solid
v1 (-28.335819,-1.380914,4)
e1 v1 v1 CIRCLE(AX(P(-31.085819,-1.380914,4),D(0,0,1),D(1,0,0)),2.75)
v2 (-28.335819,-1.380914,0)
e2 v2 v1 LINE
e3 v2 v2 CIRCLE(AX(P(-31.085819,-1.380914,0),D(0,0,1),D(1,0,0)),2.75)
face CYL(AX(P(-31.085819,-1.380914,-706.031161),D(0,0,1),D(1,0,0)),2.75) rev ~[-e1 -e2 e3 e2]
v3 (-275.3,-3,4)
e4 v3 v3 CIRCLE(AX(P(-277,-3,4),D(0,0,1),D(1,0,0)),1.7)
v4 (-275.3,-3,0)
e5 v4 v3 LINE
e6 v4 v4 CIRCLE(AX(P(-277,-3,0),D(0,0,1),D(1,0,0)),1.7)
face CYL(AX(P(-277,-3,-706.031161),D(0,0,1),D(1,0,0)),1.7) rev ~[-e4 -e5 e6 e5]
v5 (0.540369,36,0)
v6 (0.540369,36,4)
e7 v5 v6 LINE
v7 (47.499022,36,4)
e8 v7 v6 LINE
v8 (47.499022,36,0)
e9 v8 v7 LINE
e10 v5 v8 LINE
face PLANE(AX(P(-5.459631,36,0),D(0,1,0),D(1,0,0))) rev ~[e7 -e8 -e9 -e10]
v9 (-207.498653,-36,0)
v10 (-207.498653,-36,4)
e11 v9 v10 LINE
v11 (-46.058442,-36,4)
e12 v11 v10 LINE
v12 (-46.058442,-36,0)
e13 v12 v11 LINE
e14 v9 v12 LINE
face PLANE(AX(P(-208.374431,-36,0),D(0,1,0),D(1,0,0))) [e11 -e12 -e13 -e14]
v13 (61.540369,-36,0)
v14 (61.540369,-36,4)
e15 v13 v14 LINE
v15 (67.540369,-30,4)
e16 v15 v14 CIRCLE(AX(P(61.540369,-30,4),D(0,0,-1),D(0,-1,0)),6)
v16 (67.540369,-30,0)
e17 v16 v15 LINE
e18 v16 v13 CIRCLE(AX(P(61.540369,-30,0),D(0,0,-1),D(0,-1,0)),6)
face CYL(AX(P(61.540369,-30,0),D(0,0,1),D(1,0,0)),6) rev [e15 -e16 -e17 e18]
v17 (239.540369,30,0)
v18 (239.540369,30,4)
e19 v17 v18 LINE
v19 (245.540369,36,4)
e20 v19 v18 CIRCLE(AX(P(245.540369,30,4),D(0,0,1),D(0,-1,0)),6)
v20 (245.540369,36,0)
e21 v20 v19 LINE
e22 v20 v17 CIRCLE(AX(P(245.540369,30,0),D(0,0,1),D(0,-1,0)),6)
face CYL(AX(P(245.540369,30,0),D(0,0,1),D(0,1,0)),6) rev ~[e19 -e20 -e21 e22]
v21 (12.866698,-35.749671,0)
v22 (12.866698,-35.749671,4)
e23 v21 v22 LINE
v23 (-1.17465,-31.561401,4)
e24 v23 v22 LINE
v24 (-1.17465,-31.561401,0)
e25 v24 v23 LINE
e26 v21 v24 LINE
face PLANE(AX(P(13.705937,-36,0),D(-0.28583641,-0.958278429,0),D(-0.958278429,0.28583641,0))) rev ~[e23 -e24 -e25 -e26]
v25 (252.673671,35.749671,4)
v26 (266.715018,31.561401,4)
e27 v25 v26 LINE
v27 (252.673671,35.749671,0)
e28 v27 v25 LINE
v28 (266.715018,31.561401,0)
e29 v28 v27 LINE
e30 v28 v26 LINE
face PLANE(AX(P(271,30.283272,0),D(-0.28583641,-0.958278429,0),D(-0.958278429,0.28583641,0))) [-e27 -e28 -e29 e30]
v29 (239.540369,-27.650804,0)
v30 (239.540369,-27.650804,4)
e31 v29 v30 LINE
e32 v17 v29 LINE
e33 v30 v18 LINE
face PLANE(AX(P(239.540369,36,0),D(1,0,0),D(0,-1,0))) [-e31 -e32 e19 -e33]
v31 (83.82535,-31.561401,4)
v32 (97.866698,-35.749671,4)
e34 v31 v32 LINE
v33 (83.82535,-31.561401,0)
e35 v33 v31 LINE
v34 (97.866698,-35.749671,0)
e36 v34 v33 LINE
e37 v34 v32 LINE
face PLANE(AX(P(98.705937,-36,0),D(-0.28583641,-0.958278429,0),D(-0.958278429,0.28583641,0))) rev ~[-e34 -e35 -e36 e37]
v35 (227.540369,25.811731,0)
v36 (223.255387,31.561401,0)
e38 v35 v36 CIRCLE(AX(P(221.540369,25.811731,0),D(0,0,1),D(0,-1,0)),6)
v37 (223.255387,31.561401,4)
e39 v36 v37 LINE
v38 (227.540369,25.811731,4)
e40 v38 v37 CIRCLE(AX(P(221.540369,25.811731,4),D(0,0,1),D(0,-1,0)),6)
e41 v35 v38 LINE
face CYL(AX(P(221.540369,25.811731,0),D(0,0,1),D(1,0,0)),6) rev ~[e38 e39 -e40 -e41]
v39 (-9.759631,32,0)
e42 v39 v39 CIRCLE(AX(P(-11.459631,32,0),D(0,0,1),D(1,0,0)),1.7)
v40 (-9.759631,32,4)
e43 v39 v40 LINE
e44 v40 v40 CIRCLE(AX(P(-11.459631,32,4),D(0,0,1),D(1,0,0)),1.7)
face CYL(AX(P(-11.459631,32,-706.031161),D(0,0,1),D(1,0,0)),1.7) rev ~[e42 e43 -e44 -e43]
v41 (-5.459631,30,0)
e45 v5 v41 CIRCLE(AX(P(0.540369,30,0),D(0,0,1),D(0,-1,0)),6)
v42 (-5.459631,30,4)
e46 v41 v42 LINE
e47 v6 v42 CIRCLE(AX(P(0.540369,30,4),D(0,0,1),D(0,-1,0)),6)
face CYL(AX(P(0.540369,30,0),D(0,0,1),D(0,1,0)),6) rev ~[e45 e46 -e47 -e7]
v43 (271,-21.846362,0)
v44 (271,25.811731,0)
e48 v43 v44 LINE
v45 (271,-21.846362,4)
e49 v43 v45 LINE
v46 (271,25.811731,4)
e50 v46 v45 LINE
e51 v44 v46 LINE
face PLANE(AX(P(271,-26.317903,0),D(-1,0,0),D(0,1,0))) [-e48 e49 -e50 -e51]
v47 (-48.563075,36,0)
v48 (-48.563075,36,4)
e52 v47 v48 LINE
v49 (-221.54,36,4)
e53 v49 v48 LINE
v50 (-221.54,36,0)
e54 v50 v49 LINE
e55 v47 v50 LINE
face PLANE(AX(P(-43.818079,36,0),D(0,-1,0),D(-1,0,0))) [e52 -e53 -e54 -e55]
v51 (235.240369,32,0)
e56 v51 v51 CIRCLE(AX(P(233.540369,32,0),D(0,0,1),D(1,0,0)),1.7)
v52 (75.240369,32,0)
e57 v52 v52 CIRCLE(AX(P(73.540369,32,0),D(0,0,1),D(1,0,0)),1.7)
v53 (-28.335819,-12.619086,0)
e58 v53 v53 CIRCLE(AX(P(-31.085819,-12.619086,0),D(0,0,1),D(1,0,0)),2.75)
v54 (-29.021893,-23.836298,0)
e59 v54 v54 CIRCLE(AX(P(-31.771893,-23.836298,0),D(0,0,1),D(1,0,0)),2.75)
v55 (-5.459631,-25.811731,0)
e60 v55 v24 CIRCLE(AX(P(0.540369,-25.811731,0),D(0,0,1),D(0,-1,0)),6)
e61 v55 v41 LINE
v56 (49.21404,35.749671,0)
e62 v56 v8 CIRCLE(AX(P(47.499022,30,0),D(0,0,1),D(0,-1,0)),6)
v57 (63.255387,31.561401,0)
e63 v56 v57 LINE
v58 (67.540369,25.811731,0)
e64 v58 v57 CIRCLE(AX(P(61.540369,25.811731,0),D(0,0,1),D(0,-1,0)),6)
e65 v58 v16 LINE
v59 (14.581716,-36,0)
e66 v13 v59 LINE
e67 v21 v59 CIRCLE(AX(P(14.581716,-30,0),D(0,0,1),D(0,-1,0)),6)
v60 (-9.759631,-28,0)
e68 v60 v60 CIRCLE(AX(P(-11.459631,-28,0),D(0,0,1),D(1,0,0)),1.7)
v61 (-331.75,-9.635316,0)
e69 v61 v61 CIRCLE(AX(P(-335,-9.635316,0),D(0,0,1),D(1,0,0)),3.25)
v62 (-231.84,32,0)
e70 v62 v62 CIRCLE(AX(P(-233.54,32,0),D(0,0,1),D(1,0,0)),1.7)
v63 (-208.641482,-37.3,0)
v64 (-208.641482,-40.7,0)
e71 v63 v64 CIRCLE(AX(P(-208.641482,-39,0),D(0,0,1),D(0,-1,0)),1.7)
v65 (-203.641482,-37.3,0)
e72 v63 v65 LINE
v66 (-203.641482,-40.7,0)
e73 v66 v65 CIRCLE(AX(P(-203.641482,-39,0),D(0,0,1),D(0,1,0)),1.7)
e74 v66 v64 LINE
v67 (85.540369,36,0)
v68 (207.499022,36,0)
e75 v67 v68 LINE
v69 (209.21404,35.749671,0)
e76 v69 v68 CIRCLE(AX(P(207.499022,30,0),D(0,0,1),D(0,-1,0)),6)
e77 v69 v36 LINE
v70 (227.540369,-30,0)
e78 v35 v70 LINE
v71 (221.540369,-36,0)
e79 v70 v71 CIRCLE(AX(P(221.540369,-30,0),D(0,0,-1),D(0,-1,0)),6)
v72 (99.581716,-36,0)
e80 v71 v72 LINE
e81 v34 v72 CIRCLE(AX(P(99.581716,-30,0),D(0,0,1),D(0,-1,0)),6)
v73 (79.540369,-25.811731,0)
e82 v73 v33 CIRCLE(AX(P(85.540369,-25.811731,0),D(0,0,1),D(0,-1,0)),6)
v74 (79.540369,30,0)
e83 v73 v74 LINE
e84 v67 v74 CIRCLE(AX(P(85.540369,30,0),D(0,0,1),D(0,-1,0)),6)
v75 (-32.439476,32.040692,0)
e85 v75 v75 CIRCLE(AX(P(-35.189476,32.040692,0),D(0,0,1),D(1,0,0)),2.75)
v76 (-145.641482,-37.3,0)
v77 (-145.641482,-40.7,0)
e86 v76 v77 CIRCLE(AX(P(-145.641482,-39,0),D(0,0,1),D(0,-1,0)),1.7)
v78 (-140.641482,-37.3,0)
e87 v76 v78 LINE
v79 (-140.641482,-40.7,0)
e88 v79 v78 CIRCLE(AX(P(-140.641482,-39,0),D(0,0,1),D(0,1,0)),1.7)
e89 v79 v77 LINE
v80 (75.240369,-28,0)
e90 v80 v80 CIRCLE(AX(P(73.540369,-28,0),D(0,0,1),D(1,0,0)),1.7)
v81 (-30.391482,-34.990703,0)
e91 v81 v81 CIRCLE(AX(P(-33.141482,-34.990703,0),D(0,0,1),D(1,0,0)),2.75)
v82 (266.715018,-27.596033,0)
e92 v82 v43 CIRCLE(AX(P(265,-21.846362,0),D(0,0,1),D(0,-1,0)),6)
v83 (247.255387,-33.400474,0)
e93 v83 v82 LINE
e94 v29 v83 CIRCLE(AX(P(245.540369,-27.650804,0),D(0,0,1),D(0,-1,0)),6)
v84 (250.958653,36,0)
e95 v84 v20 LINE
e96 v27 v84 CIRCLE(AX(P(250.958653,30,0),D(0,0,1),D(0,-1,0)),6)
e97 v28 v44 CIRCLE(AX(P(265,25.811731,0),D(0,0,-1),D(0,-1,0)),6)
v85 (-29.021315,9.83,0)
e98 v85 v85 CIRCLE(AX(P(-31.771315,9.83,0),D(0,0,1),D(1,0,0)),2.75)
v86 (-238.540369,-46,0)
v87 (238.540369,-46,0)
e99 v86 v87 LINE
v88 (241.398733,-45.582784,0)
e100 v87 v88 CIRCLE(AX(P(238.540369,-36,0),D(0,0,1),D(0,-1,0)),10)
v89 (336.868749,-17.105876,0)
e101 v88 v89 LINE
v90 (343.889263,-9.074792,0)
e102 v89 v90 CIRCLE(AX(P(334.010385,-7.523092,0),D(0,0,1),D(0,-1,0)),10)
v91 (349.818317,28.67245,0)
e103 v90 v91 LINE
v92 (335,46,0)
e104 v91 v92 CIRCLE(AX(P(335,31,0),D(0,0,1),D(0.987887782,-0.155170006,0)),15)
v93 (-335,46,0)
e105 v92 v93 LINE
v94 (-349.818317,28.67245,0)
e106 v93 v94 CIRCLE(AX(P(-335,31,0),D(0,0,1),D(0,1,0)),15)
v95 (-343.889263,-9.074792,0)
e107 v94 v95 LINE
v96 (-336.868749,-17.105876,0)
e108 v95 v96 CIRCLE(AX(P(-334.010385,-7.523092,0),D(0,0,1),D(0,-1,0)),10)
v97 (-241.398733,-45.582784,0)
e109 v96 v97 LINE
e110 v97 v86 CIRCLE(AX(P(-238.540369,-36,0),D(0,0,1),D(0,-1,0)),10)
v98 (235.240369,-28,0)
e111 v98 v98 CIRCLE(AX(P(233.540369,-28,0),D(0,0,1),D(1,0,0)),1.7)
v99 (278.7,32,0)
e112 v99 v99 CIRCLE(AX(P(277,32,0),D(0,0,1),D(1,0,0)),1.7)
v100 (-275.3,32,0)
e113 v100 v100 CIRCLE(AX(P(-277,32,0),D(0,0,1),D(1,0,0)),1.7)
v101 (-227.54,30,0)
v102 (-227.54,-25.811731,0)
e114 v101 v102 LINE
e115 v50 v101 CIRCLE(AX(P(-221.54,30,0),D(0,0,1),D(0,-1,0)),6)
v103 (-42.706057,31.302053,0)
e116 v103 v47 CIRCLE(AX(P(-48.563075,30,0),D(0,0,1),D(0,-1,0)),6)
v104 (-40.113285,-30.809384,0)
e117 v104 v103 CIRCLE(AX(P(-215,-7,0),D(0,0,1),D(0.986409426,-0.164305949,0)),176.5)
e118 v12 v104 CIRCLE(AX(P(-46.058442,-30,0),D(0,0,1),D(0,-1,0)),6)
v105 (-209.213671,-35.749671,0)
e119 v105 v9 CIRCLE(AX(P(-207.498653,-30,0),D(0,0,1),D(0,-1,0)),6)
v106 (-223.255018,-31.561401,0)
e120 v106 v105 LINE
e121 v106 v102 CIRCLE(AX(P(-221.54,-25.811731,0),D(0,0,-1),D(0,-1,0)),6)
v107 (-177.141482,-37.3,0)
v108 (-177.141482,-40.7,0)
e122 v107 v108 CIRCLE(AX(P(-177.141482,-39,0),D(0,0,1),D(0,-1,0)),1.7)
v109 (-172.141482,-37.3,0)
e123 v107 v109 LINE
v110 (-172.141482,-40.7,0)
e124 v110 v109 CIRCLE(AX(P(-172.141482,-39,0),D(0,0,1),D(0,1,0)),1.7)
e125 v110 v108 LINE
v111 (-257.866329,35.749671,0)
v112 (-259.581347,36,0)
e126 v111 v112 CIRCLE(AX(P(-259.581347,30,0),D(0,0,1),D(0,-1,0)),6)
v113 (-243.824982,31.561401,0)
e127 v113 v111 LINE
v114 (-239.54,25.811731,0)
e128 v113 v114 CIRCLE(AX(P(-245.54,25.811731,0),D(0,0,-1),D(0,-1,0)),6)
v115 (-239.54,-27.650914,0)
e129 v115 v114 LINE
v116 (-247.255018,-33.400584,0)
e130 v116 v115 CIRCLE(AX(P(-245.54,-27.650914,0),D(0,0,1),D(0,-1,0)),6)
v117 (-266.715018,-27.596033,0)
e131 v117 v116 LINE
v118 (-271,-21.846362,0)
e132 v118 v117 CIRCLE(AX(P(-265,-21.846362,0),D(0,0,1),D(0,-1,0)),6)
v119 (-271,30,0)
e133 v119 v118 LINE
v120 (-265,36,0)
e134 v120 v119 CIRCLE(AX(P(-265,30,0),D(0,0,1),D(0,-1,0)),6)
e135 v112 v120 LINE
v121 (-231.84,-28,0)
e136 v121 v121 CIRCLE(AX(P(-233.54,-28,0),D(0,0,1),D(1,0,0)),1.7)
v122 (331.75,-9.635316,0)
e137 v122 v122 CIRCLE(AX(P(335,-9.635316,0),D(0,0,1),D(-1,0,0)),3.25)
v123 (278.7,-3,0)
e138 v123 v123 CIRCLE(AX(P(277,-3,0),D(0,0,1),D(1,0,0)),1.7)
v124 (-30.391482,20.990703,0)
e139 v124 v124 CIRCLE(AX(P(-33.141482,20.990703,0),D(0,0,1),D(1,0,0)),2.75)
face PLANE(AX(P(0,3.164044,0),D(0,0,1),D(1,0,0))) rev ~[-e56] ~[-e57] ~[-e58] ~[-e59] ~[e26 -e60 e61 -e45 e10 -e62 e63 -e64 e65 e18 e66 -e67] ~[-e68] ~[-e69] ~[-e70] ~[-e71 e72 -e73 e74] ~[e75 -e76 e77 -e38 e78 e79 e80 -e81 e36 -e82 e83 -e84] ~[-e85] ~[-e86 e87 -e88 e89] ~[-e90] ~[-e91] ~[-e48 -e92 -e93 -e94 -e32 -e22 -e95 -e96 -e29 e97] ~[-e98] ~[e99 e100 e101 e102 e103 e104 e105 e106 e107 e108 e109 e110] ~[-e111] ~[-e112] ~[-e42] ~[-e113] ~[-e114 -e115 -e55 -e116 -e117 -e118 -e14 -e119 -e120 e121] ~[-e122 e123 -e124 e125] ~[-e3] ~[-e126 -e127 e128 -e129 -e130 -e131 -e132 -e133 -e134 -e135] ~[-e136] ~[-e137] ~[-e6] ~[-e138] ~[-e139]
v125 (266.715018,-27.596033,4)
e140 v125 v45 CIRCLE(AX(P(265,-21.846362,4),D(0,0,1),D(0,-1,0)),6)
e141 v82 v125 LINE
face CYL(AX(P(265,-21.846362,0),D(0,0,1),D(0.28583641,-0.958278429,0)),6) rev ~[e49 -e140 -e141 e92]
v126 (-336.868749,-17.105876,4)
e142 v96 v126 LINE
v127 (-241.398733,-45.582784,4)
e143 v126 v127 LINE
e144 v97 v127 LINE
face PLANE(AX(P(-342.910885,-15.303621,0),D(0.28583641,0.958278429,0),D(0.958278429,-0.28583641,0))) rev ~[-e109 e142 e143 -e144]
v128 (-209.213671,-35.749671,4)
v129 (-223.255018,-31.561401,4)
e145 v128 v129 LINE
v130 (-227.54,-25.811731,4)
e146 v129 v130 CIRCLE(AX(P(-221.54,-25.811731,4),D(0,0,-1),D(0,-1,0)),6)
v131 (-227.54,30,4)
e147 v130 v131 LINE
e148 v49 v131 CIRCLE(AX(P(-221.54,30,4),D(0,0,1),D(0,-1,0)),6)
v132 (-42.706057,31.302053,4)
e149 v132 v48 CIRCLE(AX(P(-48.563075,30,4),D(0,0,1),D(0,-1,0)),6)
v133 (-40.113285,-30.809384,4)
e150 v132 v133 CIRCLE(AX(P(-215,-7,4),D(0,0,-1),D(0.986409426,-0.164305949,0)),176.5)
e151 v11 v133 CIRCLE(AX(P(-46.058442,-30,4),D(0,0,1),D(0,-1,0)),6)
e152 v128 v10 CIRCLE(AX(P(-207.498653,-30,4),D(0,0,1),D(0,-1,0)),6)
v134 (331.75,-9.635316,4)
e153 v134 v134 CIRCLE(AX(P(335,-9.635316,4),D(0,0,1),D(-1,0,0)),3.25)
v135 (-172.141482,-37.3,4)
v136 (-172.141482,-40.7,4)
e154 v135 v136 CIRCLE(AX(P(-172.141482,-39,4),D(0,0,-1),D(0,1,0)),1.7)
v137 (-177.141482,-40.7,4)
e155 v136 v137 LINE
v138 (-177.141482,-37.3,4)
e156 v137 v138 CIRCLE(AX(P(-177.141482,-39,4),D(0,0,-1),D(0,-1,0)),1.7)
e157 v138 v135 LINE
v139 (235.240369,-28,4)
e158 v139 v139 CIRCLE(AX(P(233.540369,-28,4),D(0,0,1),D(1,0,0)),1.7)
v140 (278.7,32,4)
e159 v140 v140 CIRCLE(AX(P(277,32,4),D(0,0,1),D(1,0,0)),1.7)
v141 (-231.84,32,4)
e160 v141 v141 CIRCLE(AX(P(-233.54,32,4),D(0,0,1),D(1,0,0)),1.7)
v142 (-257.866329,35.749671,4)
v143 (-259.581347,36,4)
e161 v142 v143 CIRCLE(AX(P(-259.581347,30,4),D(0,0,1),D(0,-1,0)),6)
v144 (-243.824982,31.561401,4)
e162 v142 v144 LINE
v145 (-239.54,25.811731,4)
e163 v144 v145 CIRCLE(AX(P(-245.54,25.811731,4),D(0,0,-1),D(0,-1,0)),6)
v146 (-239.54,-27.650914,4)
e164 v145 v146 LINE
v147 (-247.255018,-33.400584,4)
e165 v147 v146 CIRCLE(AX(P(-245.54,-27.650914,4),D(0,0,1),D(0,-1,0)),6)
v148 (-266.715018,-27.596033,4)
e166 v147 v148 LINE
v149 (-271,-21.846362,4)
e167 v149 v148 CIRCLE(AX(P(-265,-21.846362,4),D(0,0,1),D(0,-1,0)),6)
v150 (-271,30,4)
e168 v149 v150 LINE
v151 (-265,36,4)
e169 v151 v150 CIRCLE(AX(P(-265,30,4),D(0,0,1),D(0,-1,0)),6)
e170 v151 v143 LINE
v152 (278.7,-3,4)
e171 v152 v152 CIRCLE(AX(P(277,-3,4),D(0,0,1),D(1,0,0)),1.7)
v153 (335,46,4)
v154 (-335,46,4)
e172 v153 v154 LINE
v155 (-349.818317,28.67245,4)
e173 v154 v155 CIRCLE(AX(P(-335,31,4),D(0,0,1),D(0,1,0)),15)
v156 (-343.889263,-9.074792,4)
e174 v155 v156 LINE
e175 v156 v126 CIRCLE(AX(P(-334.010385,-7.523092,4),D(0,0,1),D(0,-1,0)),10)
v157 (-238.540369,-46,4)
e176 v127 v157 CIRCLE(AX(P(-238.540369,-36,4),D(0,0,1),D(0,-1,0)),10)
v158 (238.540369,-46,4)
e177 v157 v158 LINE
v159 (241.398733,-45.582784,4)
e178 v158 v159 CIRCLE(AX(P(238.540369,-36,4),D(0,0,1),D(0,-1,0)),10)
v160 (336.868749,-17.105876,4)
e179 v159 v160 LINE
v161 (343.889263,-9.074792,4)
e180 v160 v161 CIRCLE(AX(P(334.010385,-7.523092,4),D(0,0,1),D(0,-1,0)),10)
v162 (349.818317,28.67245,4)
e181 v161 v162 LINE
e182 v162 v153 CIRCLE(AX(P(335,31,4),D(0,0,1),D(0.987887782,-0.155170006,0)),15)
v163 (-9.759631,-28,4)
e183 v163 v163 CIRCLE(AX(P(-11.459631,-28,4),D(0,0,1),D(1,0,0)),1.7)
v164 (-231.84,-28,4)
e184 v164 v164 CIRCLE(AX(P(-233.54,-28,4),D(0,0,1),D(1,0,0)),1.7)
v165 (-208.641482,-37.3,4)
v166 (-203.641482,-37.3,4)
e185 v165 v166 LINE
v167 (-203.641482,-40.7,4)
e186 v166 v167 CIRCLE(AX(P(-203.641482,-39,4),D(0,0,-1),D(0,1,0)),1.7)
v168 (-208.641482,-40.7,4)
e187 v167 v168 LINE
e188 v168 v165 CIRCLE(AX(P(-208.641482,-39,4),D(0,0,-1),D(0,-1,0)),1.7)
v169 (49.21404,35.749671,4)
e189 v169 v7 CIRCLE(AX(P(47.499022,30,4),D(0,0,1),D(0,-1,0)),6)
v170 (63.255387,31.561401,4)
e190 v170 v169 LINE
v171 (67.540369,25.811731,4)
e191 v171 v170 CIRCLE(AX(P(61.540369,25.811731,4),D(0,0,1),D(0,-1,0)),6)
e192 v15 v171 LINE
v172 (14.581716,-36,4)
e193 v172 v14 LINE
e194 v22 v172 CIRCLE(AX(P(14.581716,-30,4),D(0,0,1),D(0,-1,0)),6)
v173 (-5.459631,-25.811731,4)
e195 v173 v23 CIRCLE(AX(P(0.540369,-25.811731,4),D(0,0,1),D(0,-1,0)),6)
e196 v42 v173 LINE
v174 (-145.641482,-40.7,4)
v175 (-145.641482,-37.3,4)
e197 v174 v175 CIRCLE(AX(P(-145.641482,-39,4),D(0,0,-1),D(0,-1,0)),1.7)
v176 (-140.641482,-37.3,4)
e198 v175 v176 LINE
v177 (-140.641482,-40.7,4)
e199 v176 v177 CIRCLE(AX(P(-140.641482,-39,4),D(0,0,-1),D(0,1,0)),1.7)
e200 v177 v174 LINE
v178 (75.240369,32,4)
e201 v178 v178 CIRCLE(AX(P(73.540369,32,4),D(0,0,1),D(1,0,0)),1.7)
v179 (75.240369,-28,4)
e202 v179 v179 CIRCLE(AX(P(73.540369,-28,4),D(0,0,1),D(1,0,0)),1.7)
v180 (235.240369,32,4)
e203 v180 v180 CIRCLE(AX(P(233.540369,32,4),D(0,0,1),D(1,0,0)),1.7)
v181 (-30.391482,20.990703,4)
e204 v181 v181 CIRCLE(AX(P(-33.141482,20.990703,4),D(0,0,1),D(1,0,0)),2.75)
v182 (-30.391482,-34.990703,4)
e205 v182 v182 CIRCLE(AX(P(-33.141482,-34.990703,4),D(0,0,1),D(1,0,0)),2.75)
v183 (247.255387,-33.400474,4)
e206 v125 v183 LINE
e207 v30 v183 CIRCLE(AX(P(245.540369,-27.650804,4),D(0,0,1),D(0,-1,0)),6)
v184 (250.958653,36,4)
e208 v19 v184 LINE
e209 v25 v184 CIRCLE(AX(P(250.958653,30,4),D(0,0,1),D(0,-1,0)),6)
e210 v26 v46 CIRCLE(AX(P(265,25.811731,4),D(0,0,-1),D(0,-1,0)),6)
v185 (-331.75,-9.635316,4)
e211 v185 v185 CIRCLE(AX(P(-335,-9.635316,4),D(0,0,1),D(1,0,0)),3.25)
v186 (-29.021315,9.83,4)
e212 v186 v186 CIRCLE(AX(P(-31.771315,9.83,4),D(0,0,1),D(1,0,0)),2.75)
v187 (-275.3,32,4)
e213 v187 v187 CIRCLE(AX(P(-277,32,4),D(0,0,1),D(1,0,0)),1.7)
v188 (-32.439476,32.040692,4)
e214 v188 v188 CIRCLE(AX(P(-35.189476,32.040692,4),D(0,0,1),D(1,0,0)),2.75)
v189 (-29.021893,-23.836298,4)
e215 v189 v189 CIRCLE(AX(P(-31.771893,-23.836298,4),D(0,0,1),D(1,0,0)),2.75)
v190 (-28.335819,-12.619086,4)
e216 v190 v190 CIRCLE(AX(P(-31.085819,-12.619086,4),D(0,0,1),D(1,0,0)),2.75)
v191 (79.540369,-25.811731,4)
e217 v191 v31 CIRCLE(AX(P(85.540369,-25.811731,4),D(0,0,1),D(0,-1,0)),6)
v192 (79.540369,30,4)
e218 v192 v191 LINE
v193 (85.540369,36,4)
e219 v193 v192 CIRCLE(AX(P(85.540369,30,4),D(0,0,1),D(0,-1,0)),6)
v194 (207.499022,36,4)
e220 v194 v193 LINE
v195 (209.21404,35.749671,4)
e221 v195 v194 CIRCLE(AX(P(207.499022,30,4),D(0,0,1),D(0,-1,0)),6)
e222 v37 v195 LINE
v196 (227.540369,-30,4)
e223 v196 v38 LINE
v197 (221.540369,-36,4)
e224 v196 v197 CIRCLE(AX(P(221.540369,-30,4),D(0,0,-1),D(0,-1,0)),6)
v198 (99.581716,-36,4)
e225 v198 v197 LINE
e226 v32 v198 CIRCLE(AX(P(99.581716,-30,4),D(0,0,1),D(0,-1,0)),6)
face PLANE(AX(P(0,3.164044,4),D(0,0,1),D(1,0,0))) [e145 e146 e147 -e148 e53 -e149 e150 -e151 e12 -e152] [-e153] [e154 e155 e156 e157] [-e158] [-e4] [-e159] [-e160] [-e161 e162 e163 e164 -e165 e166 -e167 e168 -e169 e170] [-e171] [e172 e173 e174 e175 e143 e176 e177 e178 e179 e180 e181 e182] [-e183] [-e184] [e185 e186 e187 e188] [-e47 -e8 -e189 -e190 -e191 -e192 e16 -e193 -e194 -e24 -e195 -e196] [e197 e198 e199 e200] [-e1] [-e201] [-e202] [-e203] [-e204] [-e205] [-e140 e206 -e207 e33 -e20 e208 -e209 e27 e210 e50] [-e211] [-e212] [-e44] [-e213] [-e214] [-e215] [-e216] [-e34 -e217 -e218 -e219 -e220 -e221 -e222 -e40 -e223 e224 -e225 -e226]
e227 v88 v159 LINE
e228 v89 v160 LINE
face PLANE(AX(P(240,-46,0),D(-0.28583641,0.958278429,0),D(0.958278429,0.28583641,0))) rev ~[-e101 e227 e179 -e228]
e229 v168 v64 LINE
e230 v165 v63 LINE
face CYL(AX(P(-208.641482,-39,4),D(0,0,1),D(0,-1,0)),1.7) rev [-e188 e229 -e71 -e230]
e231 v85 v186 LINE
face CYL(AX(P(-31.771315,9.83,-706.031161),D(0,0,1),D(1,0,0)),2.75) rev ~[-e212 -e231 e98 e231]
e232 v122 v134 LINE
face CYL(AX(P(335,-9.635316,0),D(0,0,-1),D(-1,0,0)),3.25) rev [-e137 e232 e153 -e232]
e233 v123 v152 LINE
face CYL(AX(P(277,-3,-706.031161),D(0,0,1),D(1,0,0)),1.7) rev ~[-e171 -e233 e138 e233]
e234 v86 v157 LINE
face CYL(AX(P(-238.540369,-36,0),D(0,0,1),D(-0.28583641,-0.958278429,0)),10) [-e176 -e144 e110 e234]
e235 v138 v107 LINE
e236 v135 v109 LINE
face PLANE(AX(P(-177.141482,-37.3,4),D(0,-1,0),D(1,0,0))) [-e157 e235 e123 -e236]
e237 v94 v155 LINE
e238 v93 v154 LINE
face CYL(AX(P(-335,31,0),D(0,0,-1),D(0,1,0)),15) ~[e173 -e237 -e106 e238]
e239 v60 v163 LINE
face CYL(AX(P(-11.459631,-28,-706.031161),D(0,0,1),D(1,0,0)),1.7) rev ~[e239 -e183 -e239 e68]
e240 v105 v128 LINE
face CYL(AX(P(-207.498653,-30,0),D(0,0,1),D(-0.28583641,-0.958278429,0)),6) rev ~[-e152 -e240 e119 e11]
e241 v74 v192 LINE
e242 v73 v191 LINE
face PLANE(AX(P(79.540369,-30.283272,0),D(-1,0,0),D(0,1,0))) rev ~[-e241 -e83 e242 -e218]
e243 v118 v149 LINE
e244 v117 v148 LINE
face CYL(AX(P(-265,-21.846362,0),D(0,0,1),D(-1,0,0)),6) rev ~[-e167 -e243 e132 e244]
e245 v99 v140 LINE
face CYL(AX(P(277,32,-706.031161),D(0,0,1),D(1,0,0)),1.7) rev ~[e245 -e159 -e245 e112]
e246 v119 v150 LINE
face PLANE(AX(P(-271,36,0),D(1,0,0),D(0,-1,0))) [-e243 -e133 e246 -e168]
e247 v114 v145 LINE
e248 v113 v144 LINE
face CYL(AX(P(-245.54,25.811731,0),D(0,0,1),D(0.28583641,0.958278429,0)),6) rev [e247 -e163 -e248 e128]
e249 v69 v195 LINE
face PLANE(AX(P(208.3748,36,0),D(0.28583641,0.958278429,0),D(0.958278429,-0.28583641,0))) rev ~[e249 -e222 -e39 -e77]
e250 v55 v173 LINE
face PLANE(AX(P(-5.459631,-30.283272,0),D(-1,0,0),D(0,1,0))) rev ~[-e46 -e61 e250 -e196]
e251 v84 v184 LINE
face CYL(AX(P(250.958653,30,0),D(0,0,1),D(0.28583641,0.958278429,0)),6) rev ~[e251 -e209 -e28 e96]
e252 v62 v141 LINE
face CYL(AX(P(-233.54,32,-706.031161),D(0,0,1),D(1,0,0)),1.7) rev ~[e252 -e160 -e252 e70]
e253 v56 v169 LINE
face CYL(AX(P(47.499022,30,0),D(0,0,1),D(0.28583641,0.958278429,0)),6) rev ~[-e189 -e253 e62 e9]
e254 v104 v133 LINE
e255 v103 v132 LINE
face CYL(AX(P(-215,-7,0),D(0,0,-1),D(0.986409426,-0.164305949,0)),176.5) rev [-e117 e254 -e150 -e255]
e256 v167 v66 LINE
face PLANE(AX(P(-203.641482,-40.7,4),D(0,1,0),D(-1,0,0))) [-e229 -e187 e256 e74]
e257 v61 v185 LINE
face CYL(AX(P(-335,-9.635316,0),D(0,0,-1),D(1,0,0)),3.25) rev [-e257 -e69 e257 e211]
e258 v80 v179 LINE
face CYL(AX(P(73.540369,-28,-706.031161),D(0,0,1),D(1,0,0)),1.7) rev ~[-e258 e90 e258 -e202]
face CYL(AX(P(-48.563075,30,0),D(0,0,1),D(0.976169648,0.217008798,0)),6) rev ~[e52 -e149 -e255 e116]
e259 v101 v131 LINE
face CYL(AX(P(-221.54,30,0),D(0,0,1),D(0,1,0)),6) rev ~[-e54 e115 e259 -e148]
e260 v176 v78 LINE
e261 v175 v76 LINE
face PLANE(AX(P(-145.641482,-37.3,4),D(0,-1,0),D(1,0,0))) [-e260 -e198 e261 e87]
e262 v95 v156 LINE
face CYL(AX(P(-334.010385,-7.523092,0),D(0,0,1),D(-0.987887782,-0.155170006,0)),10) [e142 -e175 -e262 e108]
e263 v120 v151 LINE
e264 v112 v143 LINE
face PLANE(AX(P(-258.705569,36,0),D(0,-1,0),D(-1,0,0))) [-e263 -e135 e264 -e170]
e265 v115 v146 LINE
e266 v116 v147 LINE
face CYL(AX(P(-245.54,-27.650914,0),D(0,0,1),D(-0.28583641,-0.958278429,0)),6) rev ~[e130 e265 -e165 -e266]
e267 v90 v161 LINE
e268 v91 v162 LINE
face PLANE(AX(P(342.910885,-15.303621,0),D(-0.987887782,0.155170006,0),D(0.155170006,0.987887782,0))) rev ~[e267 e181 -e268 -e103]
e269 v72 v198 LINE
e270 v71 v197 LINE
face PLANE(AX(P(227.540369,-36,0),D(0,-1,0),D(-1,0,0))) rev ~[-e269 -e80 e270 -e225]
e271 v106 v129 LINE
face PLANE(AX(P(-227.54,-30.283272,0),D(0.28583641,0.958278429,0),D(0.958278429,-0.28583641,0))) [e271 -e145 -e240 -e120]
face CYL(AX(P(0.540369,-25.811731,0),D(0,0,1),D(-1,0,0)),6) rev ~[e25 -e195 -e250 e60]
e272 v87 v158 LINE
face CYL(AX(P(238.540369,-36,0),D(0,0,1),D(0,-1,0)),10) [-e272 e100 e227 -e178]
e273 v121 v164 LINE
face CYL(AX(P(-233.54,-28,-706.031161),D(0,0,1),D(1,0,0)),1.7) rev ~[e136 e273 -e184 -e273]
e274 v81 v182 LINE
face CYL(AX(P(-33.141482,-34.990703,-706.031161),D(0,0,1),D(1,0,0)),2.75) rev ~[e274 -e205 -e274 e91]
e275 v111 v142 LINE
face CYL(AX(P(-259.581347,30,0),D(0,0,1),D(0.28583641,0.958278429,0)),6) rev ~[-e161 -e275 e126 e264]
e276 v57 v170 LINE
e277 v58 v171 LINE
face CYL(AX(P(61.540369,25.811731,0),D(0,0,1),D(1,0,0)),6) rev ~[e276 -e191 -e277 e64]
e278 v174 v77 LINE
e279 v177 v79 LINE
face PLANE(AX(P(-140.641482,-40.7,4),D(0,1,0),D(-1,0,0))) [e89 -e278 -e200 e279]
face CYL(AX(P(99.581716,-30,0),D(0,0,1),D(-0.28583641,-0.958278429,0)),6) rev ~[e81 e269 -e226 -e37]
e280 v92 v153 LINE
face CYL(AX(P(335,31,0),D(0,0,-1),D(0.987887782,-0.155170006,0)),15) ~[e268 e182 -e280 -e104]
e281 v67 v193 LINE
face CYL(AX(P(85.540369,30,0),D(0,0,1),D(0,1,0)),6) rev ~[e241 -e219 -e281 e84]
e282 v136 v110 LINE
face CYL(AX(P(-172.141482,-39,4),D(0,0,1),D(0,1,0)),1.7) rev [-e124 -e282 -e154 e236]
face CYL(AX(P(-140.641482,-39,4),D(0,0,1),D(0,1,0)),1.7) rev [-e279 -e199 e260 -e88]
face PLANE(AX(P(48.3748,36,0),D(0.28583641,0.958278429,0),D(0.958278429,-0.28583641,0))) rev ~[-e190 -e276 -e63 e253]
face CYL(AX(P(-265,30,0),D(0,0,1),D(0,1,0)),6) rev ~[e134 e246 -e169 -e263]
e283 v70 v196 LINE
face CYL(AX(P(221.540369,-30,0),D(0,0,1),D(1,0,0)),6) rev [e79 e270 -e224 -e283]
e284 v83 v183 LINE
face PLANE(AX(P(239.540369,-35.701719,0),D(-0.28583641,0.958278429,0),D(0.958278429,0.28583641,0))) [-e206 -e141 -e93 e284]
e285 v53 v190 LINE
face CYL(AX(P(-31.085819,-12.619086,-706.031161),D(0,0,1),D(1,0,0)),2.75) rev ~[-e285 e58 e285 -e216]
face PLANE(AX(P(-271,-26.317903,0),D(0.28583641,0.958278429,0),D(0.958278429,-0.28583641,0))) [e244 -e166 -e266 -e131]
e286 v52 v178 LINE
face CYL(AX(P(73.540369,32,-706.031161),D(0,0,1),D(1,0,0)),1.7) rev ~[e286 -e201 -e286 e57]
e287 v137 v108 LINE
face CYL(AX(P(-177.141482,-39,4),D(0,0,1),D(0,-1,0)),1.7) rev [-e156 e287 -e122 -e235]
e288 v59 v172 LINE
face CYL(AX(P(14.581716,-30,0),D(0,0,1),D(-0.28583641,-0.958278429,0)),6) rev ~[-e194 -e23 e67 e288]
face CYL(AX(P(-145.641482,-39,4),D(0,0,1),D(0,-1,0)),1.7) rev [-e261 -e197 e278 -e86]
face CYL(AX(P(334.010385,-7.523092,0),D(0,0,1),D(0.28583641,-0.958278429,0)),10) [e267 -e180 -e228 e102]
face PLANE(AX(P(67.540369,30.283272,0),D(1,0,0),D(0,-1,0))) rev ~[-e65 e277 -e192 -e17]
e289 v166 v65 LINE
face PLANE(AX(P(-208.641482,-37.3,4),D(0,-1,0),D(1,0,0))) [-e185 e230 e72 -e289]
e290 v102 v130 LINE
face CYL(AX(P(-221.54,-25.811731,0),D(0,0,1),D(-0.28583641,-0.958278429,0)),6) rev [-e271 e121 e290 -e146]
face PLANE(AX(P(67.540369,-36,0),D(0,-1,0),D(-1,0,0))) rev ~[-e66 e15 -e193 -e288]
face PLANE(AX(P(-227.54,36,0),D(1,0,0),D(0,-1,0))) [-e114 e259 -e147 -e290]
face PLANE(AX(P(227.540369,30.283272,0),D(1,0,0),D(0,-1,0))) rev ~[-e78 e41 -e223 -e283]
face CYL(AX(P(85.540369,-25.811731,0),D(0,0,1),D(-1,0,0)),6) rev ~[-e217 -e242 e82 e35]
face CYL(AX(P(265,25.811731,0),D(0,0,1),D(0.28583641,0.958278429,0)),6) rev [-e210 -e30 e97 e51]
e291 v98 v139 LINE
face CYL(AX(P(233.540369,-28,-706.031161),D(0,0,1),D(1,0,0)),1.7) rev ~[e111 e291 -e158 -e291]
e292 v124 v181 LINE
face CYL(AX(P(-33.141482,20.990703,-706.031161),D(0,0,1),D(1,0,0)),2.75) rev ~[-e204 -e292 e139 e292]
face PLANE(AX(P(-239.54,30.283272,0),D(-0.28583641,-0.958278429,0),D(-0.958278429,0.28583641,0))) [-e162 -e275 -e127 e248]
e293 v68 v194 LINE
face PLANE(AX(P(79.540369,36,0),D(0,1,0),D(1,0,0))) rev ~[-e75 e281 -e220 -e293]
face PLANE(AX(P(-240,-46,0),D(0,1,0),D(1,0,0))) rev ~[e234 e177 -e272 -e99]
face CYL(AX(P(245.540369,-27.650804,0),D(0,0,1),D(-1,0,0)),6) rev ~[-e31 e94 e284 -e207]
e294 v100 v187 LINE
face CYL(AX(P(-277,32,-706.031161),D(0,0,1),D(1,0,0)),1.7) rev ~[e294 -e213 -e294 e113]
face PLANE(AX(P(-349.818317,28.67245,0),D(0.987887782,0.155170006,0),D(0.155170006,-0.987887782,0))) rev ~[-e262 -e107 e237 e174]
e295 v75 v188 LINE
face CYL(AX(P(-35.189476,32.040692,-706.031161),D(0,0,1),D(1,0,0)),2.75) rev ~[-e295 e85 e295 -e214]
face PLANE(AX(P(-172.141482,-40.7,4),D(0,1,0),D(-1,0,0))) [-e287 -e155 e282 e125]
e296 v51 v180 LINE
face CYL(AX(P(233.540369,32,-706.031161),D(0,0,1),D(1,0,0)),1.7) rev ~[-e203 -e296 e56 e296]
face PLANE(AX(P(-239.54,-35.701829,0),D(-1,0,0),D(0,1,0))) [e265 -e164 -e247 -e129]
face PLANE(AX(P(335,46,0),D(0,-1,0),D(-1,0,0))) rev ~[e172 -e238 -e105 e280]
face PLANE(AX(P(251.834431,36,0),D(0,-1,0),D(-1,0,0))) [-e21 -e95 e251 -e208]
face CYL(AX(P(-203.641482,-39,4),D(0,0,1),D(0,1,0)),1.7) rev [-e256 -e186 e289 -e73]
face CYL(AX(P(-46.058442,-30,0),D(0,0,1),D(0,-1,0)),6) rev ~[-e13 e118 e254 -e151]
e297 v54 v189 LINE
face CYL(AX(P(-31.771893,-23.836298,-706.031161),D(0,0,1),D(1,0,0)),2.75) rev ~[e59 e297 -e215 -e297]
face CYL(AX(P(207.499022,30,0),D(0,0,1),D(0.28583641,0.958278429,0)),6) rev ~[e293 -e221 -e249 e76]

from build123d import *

# Parameters (mm, degrees)
SKETCH_1_R          = 3.25
EXTRUDE_1_DEPTH     = 4
HOLE_WIZARD_M52_D   = 5.5
HOLE_WIZARD_M53_D   = 5.5
FILLET_5_R          = 10
CUT_EXTRUDE_4_DEPTH = 354.032576401
FILLET_7_R          = 6
HOLE_WIZARD_M34_D   = 3.4
CUT_EXTRUDE_5_DEPTH = 354.032576401


with BuildPart() as part:
    # Эскиз1 → Бобышка-Вытянуть1 (new body)
    with BuildSketch(Plane.XY):
        with BuildLine():
            Line((-349.818316726, 28.672449915), (-342.910885265, -15.303620822))
            Line((-342.910885265, -15.303620822), (-240, -46))
            Line((-240, -46), (240, -46))
            Line((240, -46), (342.910885265, -15.303620822))
            Line((342.910885265, -15.303620822), (349.818316726, 28.672449915))
            ThreePointArc((349.818316726, 28.672449915), (346.399852001, 40.749019149), (335, 46))
            Line((335, 46), (-335, 46))
            ThreePointArc((-335, 46), (-346.399852001, 40.749019149), (-349.818316726, 28.672449915))
        make_face()
        with Locations((-335, -9.635315981)):
            Circle(SKETCH_1_R, mode=Mode.SUBTRACT)
        with Locations(Location((335, -9.635315981, 0), (0, 0, 180))):
            Circle(SKETCH_1_R, mode=Mode.SUBTRACT)
    extrude(amount=EXTRUDE_1_DEPTH)

    # Отверстие с зазором M52 (through all)
    with Locations(Plane(origin=(0, 0, 0), x_dir=(-1, 0, 0), z_dir=(0, 0, -1))):
        with Locations((215, -7)):
            Hole(HOLE_WIZARD_M52_D / 2)

    # Отверстие с зазором M53 (through all)
    with Locations(Plane(origin=(0, 0, 0), x_dir=(-1, 0, 0), z_dir=(0, 0, -1))):
        with Locations((31.771314746, 9.83), (35.189476411, 32.040691677), (33.141482074, 20.990703059), (31.085819286, -1.380913569), (31.085819286, -12.619086431), (31.771893326, -23.836297834), (33.141482074, -34.990703059)):
            Hole(HOLE_WIZARD_M53_D / 2)

    # Скругление5
    fillet_5_edges = [part.edges().sort_by_distance(p)[0] for p in [
        (342.910885265, -15.303620822, 2),
        (240, -46, 2),
        (-240, -46, 2),
        (-342.910885265, -15.303620822, 2),
    ]]
    fillet(fillet_5_edges, radius=FILLET_5_R)

    # Эскиз22 → Вырез-Вытянуть4 (cut, through all)
    with BuildSketch(Plane(origin=(0, 0, 0), x_dir=(-1, 0, 0), z_dir=(0, 0, -1))):
        Polygon((-227.540368898, -36), (-98.70593747, -36), (-79.540368898, -30.283271798), (-79.540368898, 36), (-208.374800326, 36), (-227.540368898, 30.283271798), align=None)
        with BuildLine():
            Line((227.54, -30.283271798), (208.374431428, -36))
            Line((208.374431428, -36), (40.898736363, -36))
            ThreePointArc((40.898736363, -36), (38.644905491, 0.150569256), (43.818079226, 36))
            Line((43.818079226, 36), (227.54, 36))
            Line((227.54, 36), (227.54, -30.283271798))
        make_face()
        Polygon((-271, 30.283271798), (-251.834431428, 36), (-239.540368898, 36), (-239.540368898, -35.701718831), (-271, -26.317903284), align=None)
        Polygon((-67.540368898, -36), (-13.70593747, -36), (5.459631102, -30.283271798), (5.459631102, 36), (-48.374800326, 36), (-67.540368898, 30.283271798), align=None)
        Polygon((239.54, 30.283271798), (258.705568572, 36), (271, 36), (271, -26.317903284), (239.54, -35.701828866), align=None)
    extrude(amount=-CUT_EXTRUDE_4_DEPTH, mode=Mode.SUBTRACT)

    # Скругление7
    fillet_7_edges = [part.edges().sort_by_distance(p)[0] for p in [
        (227.540368898, -36, 2),
        (227.540368898, 30.283271798, 2),
        (208.374800326, 36, 2),
        (79.540368898, 36, 2),
        (79.540368898, -30.283271798, 2),
        (98.70593747, -36, 2),
        (271, -26.317903284, 2),
        (271, 30.283271798, 2),
        (251.834431428, 36, 2),
        (239.540368898, 36, 2),
        (239.540368898, -35.701718831, 2),
        (-40.898736363, -36, 2),
        (-43.818079226, 36, 2),
        (-227.54, 36, 2),
        (-227.54, -30.283271798, 2),
        (-208.374431428, -36, 2),
        (67.540368898, -36, 2),
        (67.540368898, 30.283271798, 2),
        (48.374800326, 36, 2),
        (-5.459631102, 36, 2),
        (-5.459631102, -30.283271798, 2),
        (13.70593747, -36, 2),
        (-271, -26.317903284, 2),
        (-239.54, -35.701828866, 2),
        (-239.54, 30.283271798, 2),
        (-258.705568572, 36, 2),
        (-271, 36, 2),
    ]]
    fillet(fillet_7_edges, radius=FILLET_7_R)

    # Отверстие с зазором M34 (through all)
    with Locations(Plane(origin=(0, 0, 0), x_dir=(-1, 0, 0), z_dir=(0, 0, -1))):
        with Locations((-233.540368898, 32), (-233.540368898, -28), (-73.540368898, -28), (-73.540368898, 32), (11.459631102, 32), (11.459631102, -28), (277, 32), (277, -3), (-277, 32), (-277, -3), (233.54, -28), (233.54, 32)):
            Hole(HOLE_WIZARD_M34_D / 2)

    # Эскиз25 → Вырез-Вытянуть5 (cut, through all)
    with BuildSketch(Plane.XY.offset(4)):
        with BuildLine():
            Line((-208.641482074, -37.3), (-203.641482074, -37.3))
            ThreePointArc((-203.641482074, -37.3), (-201.941482074, -39), (-203.641482074, -40.7))
            Line((-203.641482074, -40.7), (-208.641482074, -40.7))
            ThreePointArc((-208.641482074, -40.7), (-210.341482074, -39), (-208.641482074, -37.3))
        make_face()
        with BuildLine():
            Line((-177.141482074, -37.3), (-172.141482074, -37.3))
            ThreePointArc((-172.141482074, -37.3), (-170.441482074, -39), (-172.141482074, -40.7))
            Line((-172.141482074, -40.7), (-177.141482074, -40.7))
            ThreePointArc((-177.141482074, -40.7), (-178.841482074, -39), (-177.141482074, -37.3))
        make_face()
        with BuildLine():
            Line((-140.641482074, -40.7), (-145.641482074, -40.7))
            ThreePointArc((-145.641482074, -40.7), (-147.341482074, -39), (-145.641482074, -37.3))
            Line((-145.641482074, -37.3), (-140.641482074, -37.3))
            ThreePointArc((-140.641482074, -37.3), (-138.941482074, -39), (-140.641482074, -40.7))
        make_face()
    extrude(amount=-CUT_EXTRUDE_5_DEPTH, mode=Mode.SUBTRACT)


solid = part.part
